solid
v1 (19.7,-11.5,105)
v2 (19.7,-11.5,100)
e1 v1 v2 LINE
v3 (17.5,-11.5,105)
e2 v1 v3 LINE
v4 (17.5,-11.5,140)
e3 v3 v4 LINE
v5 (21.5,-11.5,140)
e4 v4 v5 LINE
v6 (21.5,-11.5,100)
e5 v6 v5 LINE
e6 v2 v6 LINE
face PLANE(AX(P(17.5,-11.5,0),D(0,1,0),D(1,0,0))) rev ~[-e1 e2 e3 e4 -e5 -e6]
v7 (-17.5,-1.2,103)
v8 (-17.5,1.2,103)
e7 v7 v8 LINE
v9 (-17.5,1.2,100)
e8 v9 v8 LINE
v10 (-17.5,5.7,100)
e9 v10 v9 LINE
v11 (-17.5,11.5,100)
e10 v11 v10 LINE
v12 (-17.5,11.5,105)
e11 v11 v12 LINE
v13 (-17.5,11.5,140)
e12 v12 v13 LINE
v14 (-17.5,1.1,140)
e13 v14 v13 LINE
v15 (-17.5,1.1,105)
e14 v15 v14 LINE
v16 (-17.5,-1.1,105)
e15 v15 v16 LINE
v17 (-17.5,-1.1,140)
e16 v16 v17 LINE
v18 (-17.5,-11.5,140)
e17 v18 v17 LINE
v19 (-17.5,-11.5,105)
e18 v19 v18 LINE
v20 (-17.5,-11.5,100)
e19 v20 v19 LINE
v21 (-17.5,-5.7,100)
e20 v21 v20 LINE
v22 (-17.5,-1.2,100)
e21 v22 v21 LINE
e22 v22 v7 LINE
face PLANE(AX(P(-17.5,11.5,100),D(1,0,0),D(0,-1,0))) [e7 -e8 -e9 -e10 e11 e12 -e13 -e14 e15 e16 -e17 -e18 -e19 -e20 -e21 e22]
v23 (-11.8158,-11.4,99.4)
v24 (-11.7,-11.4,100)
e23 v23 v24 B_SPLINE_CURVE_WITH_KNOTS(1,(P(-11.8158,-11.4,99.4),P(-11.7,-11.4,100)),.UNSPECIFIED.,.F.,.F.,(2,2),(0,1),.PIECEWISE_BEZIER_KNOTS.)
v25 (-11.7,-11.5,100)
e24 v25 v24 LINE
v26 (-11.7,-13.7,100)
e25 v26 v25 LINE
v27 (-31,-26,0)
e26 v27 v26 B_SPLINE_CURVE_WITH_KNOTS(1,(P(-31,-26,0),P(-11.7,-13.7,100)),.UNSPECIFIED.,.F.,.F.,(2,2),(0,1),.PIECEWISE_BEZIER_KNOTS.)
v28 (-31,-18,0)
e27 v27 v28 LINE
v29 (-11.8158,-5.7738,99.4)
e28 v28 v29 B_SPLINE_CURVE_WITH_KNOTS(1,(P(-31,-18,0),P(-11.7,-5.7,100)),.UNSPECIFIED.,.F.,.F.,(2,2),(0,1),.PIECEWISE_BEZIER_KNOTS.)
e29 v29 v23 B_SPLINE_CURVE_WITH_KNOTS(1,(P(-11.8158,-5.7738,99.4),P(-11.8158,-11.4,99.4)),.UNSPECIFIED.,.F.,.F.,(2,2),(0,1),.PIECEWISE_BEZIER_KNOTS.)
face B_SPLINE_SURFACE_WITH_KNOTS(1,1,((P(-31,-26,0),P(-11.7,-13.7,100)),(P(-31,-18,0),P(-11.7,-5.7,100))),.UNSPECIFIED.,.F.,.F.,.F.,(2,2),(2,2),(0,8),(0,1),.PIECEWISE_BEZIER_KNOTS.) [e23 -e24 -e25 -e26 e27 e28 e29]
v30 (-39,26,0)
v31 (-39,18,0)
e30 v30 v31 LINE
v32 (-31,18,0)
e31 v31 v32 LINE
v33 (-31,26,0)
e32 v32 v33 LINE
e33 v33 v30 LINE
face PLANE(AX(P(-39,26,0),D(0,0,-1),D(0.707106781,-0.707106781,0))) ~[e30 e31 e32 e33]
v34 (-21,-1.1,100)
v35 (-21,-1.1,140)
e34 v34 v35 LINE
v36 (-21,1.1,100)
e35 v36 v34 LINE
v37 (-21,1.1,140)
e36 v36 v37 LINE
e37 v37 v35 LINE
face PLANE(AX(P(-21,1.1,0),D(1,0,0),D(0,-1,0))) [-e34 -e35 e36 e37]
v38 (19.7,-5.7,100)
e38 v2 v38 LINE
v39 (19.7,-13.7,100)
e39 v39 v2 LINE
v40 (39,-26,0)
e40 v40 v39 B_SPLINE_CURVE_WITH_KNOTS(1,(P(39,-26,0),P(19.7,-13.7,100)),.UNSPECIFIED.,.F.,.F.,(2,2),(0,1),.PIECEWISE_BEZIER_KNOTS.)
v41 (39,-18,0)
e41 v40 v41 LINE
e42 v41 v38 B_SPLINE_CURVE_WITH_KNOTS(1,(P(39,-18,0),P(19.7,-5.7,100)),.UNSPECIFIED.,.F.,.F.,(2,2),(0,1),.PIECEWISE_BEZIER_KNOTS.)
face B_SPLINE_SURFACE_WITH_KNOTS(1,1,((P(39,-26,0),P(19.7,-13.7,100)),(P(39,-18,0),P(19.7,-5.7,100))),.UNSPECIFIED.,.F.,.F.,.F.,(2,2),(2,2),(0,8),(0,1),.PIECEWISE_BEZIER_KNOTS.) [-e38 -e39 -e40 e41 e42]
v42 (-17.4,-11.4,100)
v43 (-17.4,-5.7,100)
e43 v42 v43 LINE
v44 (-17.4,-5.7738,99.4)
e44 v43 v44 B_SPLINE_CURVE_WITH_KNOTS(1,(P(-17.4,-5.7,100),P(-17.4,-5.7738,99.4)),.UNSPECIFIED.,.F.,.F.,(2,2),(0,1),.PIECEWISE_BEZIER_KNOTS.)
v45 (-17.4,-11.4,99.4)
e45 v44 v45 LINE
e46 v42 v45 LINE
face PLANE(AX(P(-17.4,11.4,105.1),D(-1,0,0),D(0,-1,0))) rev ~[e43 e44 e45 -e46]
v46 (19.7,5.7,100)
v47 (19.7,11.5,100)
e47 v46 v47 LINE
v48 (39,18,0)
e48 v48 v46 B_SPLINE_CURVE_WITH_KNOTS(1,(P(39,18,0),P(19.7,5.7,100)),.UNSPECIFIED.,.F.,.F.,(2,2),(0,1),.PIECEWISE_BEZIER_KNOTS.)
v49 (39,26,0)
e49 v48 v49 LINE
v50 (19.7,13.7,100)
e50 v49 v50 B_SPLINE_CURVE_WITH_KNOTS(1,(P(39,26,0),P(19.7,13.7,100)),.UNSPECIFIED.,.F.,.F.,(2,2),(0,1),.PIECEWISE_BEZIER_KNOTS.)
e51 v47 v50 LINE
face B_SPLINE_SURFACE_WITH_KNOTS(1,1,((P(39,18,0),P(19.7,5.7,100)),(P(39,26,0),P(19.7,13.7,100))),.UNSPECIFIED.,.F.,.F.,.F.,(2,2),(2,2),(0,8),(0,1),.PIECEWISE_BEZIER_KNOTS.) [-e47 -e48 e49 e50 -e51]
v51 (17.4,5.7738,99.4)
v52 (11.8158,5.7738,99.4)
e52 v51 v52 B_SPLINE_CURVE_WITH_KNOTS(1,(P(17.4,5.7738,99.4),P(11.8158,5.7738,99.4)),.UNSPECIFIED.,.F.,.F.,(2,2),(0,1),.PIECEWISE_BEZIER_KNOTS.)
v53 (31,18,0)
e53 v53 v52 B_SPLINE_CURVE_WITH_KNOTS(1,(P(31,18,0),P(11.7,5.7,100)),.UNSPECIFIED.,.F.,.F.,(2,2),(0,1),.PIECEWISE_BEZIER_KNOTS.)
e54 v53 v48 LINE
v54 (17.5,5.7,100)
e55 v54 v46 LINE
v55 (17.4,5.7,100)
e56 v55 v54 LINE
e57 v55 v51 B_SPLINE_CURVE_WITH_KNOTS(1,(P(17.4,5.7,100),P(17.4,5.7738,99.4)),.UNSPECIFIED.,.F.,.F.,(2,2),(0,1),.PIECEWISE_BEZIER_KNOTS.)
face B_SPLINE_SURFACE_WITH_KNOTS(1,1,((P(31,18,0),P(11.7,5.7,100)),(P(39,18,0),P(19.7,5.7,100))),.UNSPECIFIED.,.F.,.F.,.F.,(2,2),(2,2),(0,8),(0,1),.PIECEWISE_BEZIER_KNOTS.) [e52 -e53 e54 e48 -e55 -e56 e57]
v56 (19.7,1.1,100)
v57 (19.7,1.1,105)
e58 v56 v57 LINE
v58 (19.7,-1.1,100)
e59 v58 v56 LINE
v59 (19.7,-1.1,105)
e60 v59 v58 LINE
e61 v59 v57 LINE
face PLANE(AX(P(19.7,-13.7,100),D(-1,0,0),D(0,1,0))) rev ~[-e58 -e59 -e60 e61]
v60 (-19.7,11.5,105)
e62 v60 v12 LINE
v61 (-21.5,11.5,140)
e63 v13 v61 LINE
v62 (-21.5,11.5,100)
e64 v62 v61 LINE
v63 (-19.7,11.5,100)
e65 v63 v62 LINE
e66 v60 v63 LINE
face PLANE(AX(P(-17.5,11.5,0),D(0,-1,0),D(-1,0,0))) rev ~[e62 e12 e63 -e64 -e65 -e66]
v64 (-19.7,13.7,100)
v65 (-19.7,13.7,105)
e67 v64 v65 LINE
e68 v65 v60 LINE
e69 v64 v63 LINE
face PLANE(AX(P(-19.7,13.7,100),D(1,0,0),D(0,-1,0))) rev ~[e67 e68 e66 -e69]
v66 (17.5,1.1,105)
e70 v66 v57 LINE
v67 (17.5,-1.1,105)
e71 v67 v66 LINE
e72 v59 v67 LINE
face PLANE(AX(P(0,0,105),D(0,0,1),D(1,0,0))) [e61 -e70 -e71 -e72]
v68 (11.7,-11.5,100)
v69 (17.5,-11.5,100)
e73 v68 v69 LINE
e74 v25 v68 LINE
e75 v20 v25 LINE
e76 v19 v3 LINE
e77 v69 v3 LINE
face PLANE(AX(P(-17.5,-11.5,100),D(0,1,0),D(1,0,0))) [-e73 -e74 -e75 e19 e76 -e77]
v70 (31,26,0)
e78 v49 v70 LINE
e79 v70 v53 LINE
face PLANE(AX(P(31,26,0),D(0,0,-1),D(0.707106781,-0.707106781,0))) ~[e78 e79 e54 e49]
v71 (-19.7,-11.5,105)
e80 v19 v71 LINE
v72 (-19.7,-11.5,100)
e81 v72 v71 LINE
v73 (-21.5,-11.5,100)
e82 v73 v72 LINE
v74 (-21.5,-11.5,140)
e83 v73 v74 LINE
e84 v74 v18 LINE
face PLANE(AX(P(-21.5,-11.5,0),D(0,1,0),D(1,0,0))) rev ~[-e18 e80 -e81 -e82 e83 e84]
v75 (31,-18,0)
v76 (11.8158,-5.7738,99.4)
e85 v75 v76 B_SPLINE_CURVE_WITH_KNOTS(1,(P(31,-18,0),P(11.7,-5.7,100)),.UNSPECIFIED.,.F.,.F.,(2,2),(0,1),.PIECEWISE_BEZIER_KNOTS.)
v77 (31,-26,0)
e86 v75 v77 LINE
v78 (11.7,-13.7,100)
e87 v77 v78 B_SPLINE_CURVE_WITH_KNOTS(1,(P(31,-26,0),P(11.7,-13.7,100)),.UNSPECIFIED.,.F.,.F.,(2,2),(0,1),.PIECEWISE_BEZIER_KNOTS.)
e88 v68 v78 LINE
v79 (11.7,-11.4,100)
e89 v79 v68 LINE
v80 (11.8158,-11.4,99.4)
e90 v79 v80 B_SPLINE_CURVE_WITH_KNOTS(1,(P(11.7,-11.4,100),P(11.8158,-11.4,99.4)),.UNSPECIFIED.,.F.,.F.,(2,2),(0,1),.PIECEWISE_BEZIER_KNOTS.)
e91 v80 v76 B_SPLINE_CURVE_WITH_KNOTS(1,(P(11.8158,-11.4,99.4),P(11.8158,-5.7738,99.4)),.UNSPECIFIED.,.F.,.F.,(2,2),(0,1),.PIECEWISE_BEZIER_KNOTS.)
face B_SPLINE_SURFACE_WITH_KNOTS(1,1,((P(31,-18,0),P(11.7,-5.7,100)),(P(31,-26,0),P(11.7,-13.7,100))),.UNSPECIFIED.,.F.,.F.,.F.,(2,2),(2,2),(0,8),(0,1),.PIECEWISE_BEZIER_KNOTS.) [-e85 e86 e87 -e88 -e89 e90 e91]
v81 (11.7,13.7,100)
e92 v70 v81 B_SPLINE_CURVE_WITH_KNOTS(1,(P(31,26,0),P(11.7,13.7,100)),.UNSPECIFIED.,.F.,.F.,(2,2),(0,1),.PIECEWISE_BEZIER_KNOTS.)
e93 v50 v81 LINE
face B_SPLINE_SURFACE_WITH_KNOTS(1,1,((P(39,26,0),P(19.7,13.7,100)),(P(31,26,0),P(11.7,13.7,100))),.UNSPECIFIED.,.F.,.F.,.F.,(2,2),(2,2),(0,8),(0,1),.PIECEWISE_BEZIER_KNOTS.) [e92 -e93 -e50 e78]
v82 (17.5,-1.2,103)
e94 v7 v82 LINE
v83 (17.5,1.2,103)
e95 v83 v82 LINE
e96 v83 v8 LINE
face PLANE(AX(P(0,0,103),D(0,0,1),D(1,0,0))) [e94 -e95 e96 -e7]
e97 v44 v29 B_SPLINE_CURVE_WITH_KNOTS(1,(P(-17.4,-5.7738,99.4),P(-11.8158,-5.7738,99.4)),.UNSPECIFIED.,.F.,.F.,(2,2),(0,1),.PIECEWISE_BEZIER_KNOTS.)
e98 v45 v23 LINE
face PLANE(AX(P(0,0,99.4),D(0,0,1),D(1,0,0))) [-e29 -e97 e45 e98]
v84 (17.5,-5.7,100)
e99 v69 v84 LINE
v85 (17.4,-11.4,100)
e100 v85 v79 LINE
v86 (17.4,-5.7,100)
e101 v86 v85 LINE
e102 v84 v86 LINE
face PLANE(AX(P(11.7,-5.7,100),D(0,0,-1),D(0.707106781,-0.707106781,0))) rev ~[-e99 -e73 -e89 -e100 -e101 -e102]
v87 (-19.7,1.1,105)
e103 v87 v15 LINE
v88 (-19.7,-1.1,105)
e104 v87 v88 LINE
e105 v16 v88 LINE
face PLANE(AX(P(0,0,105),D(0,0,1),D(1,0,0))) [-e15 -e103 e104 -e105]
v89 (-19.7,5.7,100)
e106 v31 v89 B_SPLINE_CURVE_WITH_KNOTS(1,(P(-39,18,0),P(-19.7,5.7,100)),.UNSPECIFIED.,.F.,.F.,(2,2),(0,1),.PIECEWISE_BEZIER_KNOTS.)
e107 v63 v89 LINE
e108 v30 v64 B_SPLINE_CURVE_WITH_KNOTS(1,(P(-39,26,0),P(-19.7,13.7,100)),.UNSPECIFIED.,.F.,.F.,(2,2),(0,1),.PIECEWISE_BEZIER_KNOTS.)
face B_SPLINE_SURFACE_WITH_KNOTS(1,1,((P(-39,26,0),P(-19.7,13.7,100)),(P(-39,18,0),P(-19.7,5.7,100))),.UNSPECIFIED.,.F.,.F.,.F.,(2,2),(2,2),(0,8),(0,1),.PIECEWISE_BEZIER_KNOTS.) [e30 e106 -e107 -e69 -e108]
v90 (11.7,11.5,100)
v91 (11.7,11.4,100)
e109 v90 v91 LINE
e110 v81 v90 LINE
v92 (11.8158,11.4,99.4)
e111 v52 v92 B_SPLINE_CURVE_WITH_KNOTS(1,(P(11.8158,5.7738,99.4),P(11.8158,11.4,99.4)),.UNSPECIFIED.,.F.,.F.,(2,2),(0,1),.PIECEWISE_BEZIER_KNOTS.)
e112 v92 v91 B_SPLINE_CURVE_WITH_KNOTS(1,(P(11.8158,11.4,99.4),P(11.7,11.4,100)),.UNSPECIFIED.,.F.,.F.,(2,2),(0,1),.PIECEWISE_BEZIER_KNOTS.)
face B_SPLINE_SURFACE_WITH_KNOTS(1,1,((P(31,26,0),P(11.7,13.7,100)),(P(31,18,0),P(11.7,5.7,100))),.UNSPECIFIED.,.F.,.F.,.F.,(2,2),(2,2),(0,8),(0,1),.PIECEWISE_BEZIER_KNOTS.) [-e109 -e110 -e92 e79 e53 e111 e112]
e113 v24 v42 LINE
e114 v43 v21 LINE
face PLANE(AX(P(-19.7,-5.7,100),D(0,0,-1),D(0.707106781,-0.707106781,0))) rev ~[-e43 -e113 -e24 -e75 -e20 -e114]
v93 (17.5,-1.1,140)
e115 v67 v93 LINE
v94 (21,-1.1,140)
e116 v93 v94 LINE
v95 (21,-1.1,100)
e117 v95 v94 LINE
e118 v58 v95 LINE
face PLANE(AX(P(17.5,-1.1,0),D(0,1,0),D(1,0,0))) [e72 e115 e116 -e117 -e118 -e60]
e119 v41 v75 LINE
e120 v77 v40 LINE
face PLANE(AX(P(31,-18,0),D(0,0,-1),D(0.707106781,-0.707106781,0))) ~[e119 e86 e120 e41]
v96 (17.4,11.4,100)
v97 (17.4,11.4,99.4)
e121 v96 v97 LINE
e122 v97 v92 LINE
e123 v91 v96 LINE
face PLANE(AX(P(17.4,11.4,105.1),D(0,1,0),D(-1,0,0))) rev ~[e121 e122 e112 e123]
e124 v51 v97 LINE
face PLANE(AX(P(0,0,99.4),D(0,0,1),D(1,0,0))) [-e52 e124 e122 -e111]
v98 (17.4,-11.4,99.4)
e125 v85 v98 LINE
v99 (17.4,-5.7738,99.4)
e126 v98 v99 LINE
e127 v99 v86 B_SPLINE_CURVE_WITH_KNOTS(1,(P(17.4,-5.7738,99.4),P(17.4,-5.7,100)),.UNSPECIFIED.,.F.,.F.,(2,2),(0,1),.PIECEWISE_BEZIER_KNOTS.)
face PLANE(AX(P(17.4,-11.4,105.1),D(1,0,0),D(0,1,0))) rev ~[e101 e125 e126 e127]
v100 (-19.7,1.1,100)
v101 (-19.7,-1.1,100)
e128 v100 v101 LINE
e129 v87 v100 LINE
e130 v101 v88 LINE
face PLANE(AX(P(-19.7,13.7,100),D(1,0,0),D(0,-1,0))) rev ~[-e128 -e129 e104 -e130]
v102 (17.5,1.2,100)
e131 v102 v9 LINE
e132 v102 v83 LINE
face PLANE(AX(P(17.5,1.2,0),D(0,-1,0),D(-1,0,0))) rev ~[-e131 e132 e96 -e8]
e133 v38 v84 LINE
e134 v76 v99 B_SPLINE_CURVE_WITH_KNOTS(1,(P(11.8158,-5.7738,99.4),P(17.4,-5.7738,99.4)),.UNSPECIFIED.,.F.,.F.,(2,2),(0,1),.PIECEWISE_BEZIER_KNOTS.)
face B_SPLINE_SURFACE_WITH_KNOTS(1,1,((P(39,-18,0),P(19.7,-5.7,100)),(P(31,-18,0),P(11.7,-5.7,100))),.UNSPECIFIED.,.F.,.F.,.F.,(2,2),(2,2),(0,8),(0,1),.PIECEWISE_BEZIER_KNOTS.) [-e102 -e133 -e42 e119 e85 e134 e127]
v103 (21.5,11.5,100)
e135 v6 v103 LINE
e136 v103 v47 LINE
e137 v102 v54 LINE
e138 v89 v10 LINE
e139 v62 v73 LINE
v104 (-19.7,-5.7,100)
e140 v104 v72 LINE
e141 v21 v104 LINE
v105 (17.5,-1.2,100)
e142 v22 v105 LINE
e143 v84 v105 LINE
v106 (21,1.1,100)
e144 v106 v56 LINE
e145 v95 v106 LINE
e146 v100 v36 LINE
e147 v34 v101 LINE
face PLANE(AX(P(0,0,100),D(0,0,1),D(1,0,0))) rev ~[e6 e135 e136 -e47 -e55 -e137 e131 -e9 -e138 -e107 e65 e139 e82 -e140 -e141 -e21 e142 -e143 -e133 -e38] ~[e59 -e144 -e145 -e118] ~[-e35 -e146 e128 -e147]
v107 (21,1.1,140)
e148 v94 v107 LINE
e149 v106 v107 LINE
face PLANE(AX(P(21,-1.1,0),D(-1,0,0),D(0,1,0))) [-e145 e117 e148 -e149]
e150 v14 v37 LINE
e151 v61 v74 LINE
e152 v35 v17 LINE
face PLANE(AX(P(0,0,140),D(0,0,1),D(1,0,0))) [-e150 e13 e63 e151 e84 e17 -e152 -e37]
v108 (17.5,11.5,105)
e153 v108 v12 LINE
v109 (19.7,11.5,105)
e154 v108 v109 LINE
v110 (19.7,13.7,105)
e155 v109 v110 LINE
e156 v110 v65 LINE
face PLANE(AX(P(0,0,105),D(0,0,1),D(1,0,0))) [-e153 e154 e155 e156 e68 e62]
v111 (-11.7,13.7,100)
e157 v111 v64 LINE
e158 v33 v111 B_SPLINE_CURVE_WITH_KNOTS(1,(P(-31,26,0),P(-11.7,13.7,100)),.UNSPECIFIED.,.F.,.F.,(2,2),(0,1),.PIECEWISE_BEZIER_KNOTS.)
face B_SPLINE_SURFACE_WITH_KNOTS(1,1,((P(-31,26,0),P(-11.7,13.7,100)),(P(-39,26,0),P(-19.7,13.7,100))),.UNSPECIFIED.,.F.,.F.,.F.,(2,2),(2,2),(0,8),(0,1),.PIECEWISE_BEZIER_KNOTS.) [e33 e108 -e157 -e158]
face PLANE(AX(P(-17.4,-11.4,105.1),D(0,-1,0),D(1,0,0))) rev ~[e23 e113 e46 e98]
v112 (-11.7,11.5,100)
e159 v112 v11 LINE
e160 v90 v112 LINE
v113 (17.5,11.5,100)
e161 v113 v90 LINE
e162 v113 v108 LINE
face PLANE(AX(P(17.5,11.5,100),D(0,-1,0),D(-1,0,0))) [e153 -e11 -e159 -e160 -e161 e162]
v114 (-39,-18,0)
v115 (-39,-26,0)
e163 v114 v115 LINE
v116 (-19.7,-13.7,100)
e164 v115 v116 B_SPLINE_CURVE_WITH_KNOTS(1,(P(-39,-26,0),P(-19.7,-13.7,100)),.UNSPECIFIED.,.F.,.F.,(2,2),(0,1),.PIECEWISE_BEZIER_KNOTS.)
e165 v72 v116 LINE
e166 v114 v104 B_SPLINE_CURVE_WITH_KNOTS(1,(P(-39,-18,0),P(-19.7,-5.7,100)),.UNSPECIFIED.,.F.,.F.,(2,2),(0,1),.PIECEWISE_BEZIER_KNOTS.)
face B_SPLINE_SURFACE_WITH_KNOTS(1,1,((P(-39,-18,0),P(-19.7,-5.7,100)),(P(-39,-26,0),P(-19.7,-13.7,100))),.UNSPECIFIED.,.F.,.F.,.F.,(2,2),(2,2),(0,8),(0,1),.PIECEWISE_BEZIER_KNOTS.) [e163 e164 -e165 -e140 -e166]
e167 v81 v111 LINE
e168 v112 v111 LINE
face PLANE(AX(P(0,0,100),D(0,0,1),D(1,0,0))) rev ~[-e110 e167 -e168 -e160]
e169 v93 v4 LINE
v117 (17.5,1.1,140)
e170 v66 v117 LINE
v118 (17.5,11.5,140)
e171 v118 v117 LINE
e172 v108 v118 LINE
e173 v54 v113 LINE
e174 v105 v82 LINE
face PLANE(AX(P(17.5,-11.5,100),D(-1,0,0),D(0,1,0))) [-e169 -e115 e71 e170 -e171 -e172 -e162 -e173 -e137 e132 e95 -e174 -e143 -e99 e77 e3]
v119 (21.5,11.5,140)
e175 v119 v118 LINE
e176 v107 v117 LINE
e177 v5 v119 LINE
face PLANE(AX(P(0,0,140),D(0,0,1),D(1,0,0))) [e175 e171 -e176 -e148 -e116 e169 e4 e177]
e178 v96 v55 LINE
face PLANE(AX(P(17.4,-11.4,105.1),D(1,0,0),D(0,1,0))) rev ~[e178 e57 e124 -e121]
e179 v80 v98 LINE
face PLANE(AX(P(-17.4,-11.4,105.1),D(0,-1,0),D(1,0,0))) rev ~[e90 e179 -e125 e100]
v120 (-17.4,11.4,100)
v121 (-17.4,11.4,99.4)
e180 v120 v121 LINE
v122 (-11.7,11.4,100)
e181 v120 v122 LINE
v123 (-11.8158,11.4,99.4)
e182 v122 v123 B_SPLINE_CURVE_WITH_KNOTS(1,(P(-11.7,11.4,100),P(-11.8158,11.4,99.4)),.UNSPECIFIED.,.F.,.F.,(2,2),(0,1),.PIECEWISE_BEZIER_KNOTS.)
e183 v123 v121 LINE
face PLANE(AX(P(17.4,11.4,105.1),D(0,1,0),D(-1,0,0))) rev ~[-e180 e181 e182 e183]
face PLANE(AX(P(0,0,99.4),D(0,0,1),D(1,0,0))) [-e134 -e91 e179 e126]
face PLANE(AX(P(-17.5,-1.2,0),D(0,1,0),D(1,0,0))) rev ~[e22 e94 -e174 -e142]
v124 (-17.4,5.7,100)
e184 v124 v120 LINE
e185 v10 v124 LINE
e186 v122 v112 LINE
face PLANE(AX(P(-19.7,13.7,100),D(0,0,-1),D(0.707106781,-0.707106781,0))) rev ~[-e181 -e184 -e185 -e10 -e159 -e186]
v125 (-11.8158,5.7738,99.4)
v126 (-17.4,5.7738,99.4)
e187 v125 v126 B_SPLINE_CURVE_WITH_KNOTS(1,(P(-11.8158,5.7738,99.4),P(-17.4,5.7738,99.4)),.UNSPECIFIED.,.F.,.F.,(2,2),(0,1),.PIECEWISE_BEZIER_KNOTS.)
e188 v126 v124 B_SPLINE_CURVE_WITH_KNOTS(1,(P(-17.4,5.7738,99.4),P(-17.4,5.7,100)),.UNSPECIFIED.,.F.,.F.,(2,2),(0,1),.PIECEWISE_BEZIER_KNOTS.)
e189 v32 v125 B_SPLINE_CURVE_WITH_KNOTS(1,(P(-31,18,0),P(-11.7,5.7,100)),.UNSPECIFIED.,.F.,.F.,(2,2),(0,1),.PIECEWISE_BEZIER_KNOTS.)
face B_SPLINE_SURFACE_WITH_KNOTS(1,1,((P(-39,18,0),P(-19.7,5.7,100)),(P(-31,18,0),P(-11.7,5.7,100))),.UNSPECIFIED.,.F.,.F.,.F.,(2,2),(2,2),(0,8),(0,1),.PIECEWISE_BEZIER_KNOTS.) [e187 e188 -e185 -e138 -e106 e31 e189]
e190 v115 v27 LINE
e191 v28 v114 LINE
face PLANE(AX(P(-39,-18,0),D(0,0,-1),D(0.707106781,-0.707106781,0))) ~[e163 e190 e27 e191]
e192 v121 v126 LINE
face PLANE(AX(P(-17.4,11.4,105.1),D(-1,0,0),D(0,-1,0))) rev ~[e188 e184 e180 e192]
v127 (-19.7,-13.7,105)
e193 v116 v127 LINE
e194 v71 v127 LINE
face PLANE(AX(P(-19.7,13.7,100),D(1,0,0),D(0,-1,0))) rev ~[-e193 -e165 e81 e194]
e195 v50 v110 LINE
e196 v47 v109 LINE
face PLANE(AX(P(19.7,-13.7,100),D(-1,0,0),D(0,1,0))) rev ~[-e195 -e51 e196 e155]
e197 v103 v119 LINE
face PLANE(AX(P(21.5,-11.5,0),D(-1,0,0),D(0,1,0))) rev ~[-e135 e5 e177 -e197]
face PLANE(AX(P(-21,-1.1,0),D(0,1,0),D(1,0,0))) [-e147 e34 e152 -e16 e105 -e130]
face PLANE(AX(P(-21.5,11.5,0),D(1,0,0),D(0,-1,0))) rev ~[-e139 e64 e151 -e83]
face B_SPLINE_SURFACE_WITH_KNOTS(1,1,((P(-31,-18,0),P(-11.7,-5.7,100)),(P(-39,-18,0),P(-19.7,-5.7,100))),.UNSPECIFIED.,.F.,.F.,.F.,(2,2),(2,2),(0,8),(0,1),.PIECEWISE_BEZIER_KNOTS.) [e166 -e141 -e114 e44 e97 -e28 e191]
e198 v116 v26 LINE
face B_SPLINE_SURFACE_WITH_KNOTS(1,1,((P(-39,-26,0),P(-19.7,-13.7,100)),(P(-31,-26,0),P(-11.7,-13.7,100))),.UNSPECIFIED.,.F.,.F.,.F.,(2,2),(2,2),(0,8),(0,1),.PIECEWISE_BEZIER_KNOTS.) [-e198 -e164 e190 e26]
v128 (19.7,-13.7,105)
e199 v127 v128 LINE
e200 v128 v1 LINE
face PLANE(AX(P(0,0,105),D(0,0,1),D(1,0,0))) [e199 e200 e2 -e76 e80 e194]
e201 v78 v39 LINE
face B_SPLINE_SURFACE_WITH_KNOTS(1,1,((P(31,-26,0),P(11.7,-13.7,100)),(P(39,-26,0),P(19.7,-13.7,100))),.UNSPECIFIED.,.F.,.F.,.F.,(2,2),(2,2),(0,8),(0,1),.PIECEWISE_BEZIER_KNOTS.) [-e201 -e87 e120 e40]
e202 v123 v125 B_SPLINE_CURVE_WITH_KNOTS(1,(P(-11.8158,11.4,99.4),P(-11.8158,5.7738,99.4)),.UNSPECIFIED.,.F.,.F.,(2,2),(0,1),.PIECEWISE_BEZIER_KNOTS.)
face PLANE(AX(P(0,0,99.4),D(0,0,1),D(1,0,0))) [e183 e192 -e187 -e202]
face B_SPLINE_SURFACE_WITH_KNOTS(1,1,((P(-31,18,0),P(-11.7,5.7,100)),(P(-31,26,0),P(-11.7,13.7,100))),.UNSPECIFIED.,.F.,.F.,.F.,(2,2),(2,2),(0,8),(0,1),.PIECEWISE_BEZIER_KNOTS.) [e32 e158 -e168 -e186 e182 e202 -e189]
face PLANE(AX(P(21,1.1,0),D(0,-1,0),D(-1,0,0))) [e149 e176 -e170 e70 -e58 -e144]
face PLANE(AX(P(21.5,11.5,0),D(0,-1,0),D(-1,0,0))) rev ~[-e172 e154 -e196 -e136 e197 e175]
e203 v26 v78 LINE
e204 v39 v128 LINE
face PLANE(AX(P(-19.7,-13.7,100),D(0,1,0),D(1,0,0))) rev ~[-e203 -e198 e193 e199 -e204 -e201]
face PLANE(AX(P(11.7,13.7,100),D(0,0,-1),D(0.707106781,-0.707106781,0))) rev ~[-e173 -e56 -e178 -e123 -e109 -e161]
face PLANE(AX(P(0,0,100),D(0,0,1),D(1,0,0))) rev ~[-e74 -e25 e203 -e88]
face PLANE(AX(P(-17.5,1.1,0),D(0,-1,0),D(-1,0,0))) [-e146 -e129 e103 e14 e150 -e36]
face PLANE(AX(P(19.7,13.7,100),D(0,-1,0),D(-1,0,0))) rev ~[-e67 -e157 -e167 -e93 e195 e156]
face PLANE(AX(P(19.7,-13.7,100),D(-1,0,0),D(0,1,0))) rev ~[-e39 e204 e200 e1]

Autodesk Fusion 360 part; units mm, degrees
ref_plane "WorkPlane1" through (0, 0, 100) normal (0, 0, 1) x (1, 0, 0)
ref_plane "WorkPlane2" through (0, 0, 100) normal (0, 0, 1) x (1, 0, 0)
ref_plane "WorkPlane3" through (0, 0, 100) normal (0, 0, 1) x (1, 0, 0)
ref_plane "WorkPlane4" through (0, 0, 100) normal (0, 0, 1) x (1, 0, 0)
ref_plane "WorkPlane5" through (0, 0, 100) normal (0, 0, 1) x (1, 0, 0)
ref_plane "WorkPlane6" through (0, 0, 100) normal (0, 0, 1) x (1, 0, 0)
ref_plane "WorkPlane7" through (0, 0, 100) normal (0, 0, 1) x (1, 0, 0)
ref_plane "WorkPlane8" through (0, 0, 100) normal (0, 0, 1) x (1, 0, 0)
ref_plane "WorkPlane9" through (0, 0, 100) normal (0, 0, 1) x (1, 0, 0)
ref_plane "WorkPlane10" through (0, 0, 100) normal (0, 0, 1) x (1, 0, 0)
ref_plane "WorkPlane11" through (0, 0, 100) normal (0, 0, 1) x (1, 0, 0)
ref_plane "WorkPlane12" through (0, 0, 100) normal (0, 0, 1) x (1, 0, 0)
ref_plane "WorkPlane13" through (0, 0, 100) normal (0, 0, 1) x (1, 0, 0)
ref_plane "WorkPlane14" through (0, 0, 100) normal (0, 0, 1) x (1, 0, 0)
ref_plane "WorkPlane15" through (0, 0, 100) normal (0, 0, 1) x (1, 0, 0)
ref_plane "WorkPlane16" through (0, 0, 100) normal (0, 0, 1) x (1, 0, 0)
ref_plane "WorkPlane18" through (0, 0, 100) normal (0, 0, 1) x (1, 0, 0)
ref_plane "WorkPlane20" through (0, 0, 100) normal (0, 0, 1) x (1, 0, 0)
ref_plane "WorkPlane21" through (0, 0, 105) normal (0, 0, 1) x (1, 0, 0)
ref_plane "WorkPlane22" through (0, 0, 100) normal (0, 0, 1) x (1, 0, 0)
ref_plane "WorkPlane23" through (0, 0, 105) normal (0, 0, 1) x (1, 0, 0)
ref_plane "WorkPlane25" through (0, 0, 105) normal (0, 0, 1) x (1, 0, 0)
ref_plane "WorkPlane26" through (0, 0, 100) normal (0, 0, 1) x (1, 0, 0)
ref_plane "WorkPlane27" through (0, 0, 100) normal (0, 0, 1) x (1, 0, 0)
ref_plane "WorkPlane28" through (0, 0, 105) normal (0, 0, 1) x (1, 0, 0)
ref_plane "WorkPlane29" through (0, 0, 100) normal (0, 0, 1) x (1, 0, 0)
ref_plane "WorkPlane31" through (0, 0, 105) normal (0, 0, 1) x (1, 0, 0)
ref_plane "WorkPlane32" through (0, 0, 100) normal (0, 0, 1) x (1, 0, 0)
ref_plane "WorkPlane33" through (0, 0, 105) normal (0, 0, 1) x (1, 0, 0)
ref_plane "WorkPlane34" through (0, 0, 0) normal (0, 0, 1) x (1, 0, 0)
ref_plane "WorkPlane35" through (0, 0, 0) normal (0, 0, 1) x (1, 0, 0)
ref_plane "WorkPlane36" through (0, 0, 0) normal (0, 0, 1) x (1, 0, 0)
ref_plane "WorkPlane37" through (0, 0, 0) normal (0, 0, 1) x (1, 0, 0)
ref_plane "WorkPlane38" through (0, 0, 100) normal (0, 0, 1) x (1, 0, 0)
ref_plane "WorkPlane39" through (0, 0, 100) normal (0, 0, 1) x (1, 0, 0)
ref_plane "WorkPlane40" through (0, 0, 105) normal (0, 0, 1) x (1, 0, 0)
ref_plane "WorkPlane41" through (0, 0, 0) normal (0, 0, 1) x (1, 0, 0)
ref_plane "WorkPlane42" through (0, 0, 0) normal (0, 0, 1) x (1, 0, 0)
ref_plane "WorkPlane43" through (0, 0, 0) normal (0, 0, 1) x (1, 0, 0)
ref_plane "WorkPlane44" through (0, 0, 0) normal (0, 0, 1) x (1, 0, 0)
ref_plane "WorkPlane45" through (0, 0, 100) normal (0, 0, 1) x (1, 0, 0)
ref_plane "WorkPlane46" through (0, 0, 100) normal (0, 0, 1) x (1, 0, 0)
ref_plane "WorkPlane47" through (0, 0, 100) normal (0, 0, 1) x (1, 0, 0)
ref_plane "WorkPlane48" through (0, 0, 100) normal (0, 0, 1) x (1, 0, 0)
ref_plane "WorkPlane49" through (0, 0, 0) normal (0, 0, 1) x (1, 0, 0)
ref_plane "WorkPlane50" through (0, 0, 100) normal (0, 0, 1) x (1, 0, 0)
ref_plane "WorkPlane51" through (0, 0, 0) normal (0, 0, 1) x (1, 0, 0)
ref_plane "WorkPlane52" through (0, 0, 100) normal (0, 0, 1) x (1, 0, 0)
ref_plane "WorkPlane53" through (0, 0, 0) normal (0, 0, 1) x (1, 0, 0)
ref_plane "WorkPlane54" through (0, 0, 100) normal (0, 0, 1) x (1, 0, 0)
ref_plane "WorkPlane55" through (0, 0, 0) normal (0, 0, 1) x (1, 0, 0)
ref_plane "WorkPlane56" through (0, 0, 100) normal (0, 0, 1) x (1, 0, 0)
ref_plane "WorkPlane57" through (0, 0, 100) normal (0, 0, 1) x (1, 0, 0)
ref_plane "WorkPlane58" through (0, 0, 0) normal (0, 0, 1) x (1, 0, 0)
ref_plane "WorkPlane59" through (0, 0, 100) normal (0, 0, 1) x (1, 0, 0)
sketch "Sketch240" plane through (0, 0, 0) normal (0, 0, 1) x (1, 0, 0)
  line L0 (31, 18) -> (39, 18)
  line L1 (39, 18) -> (39, 26)
  line L2 (39, 26) -> (31, 26)
  line L3 (31, 26) -> (31, 18)
sketch "Sketch241" plane through (0, 0, 100) normal (0, 0, 1) x (1, 0, 0)
  line L0 (11.7, 5.7) -> (19.7, 5.7)
  line L1 (19.7, 5.7) -> (19.7, 13.7)
  line L2 (19.7, 13.7) -> (11.7, 13.7)
  line L3 (11.7, 13.7) -> (11.7, 5.7)
loft "Loft97" add profiles "Sketch240", "Sketch241" section 1 section 2 makes body 1
ref_plane "WorkPlane60" through (0, 0, 0) normal (0, 0, 1) x (1, 0, 0)
ref_plane "WorkPlane61" through (0, 0, 100) normal (0, 0, 1) x (1, 0, 0)
sketch "Sketch242" plane through (0, 0, 0) normal (0, 0, 1) x (1, 0, 0)
  line L0 (-39, 18) -> (-31, 18)
  line L1 (-31, 18) -> (-31, 26)
  line L2 (-31, 26) -> (-39, 26)
  line L3 (-39, 26) -> (-39, 18)
sketch "Sketch243" plane through (0, 0, 100) normal (0, 0, 1) x (1, 0, 0)
  line L0 (-19.7, 5.7) -> (-11.7, 5.7)
  line L1 (-11.7, 5.7) -> (-11.7, 13.7)
  line L2 (-11.7, 13.7) -> (-19.7, 13.7)
  line L3 (-19.7, 13.7) -> (-19.7, 5.7)
loft "Loft98" add profiles "Sketch242", "Sketch243" section 1 section 2 separate body makes body 2
ref_plane "WorkPlane62" through (0, 0, 0) normal (0, 0, 1) x (1, 0, 0)
ref_plane "WorkPlane63" through (0, 0, 100) normal (0, 0, 1) x (1, 0, 0)
sketch "Sketch244" plane through (0, 0, 0) normal (0, 0, 1) x (1, 0, 0)
  line L0 (-39, -26) -> (-31, -26)
  line L1 (-31, -26) -> (-31, -18)
  line L2 (-31, -18) -> (-39, -18)
  line L3 (-39, -18) -> (-39, -26)
sketch "Sketch245" plane through (0, 0, 100) normal (0, 0, 1) x (1, 0, 0)
  line L0 (-19.7, -13.7) -> (-11.7, -13.7)
  line L1 (-11.7, -13.7) -> (-11.7, -5.7)
  line L2 (-11.7, -5.7) -> (-19.7, -5.7)
  line L3 (-19.7, -5.7) -> (-19.7, -13.7)
loft "Loft99" add profiles "Sketch244", "Sketch245" section 1 section 2 separate body makes body 3
ref_plane "WorkPlane64" through (0, 0, 0) normal (0, 0, 1) x (1, 0, 0)
ref_plane "WorkPlane65" through (0, 0, 100) normal (0, 0, 1) x (1, 0, 0)
sketch "Sketch246" plane through (0, 0, 0) normal (0, 0, 1) x (1, 0, 0)
  line L0 (31, -26) -> (39, -26)
  line L1 (39, -26) -> (39, -18)
  line L2 (39, -18) -> (31, -18)
  line L3 (31, -18) -> (31, -26)
sketch "Sketch247" plane through (0, 0, 100) normal (0, 0, 1) x (1, 0, 0)
  line L0 (11.7, -13.7) -> (19.7, -13.7)
  line L1 (19.7, -13.7) -> (19.7, -5.7)
  line L2 (19.7, -5.7) -> (11.7, -5.7)
  line L3 (11.7, -5.7) -> (11.7, -13.7)
loft "Loft100" add profiles "Sketch246", "Sketch247" section 1 section 2 separate body makes body 4
ref_plane "WorkPlane66" through (0, 0, 100) normal (0, 0, 1) x (1, 0, 0)
sketch "Sketch248" plane through (0, 0, 100) normal (0, 0, 1) x (1, 0, 0)
  line L0 (-19.7, -13.7) -> (19.7, -13.7)
  line L1 (19.7, -13.7) -> (19.7, 13.7)
  line L2 (19.7, 13.7) -> (-19.7, 13.7)
  line L3 (-19.7, 13.7) -> (-19.7, -13.7)
  line L4 (-17.5, -11.5) -> (17.5, -11.5)
  line L5 (17.5, -11.5) -> (17.5, 11.5)
  line L6 (17.5, 11.5) -> (-17.5, 11.5)
  line L7 (-17.5, 11.5) -> (-17.5, -11.5)
extrude "Extrude50" add sketch "Sketch248" along normal blind 5 bodies 1 2 3 4
ref_plane "WorkPlane67" through (0, 0, 105.1) normal (0, 0, 1) x (1, 0, 0)
sketch "sk_CutInner" plane through (0, 0, 105.1) normal (0, 0, 1) x (1, 0, 0)
  line L0 (-17.4, -11.4) -> (17.4, -11.4)
  line L1 (17.4, -11.4) -> (17.4, 11.4)
  line L2 (17.4, 11.4) -> (-17.4, 11.4)
  line L3 (-17.4, 11.4) -> (-17.4, -11.4)
extrude "Extrude51" cut sketch "sk_CutInner" against normal blind 5.7 bodies 1
sketch "sk_RailRight" plane through (0, 0, 0) normal (0, 0, 1) x (1, 0, 0)
  line L0 (17.5, -11.5) -> (21.5, -11.5)
  line L1 (21.5, -11.5) -> (21.5, 11.5)
  line L2 (21.5, 11.5) -> (17.5, 11.5)
  line L3 (17.5, 11.5) -> (17.5, -11.5)
extrude "Extrude52" add sketch "sk_RailRight" along normal blind 140 separate body makes body 5
sketch "sk_GrooveRight" plane through (0, 0, 0) normal (0, 0, 1) x (1, 0, 0)
  line L0 (17.5, -1.1) -> (21, -1.1)
  line L1 (21, -1.1) -> (21, 1.1)
  line L2 (21, 1.1) -> (17.5, 1.1)
  line L3 (17.5, 1.1) -> (17.5, -1.1)
extrude "Extrude53" cut sketch "sk_GrooveRight" along normal blind 140 bodies 5
sketch "sk_TrimRailRight" plane through (0, 0, 0) normal (0, 0, 1) x (1, 0, 0)
  line L0 (17.5, -11.5) -> (21.5, -11.5)
  line L1 (21.5, -11.5) -> (21.5, 11.5)
  line L2 (21.5, 11.5) -> (17.5, 11.5)
  line L3 (17.5, 11.5) -> (17.5, -11.5)
extrude "Extrude54" cut sketch "sk_TrimRailRight" along normal blind 100 bodies 5
sketch "sk_RailLeft" plane through (0, 0, 0) normal (0, 0, 1) x (1, 0, 0)
  line L0 (-21.5, -11.5) -> (-17.5, -11.5)
  line L1 (-17.5, -11.5) -> (-17.5, 11.5)
  line L2 (-17.5, 11.5) -> (-21.5, 11.5)
  line L3 (-21.5, 11.5) -> (-21.5, -11.5)
extrude "Extrude55" add sketch "sk_RailLeft" along normal blind 140 separate body makes body 6
sketch "sk_GrooveLeft" plane through (0, 0, 0) normal (0, 0, 1) x (1, 0, 0)
  line L0 (-21, -1.1) -> (-17.5, -1.1)
  line L1 (-17.5, -1.1) -> (-17.5, 1.1)
  line L2 (-17.5, 1.1) -> (-21, 1.1)
  line L3 (-21, 1.1) -> (-21, -1.1)
extrude "Extrude56" cut sketch "sk_GrooveLeft" along normal blind 140 bodies 6
sketch "sk_TrimRailLeft" plane through (0, 0, 0) normal (0, 0, 1) x (1, 0, 0)
  line L0 (-21.5, -11.5) -> (-17.5, -11.5)
  line L1 (-17.5, -11.5) -> (-17.5, 11.5)
  line L2 (-17.5, 11.5) -> (-21.5, 11.5)
  line L3 (-21.5, 11.5) -> (-21.5, -11.5)
extrude "Extrude57" cut sketch "sk_TrimRailLeft" along normal blind 100 bodies 6
sketch "sk_BottomStop" plane through (0, 0, 0) normal (0, 0, 1) x (1, 0, 0)
  line L0 (-17.5, -1.2) -> (17.5, -1.2)
  line L1 (17.5, -1.2) -> (17.5, 1.2)
  line L2 (17.5, 1.2) -> (-17.5, 1.2)
  line L3 (-17.5, 1.2) -> (-17.5, -1.2)
extrude "Extrude58" add sketch "sk_BottomStop" along normal blind 103 separate body makes body 7
sketch "sk_TrimStop" plane through (0, 0, 0) normal (0, 0, 1) x (1, 0, 0)
  line L0 (-17.5, -1.2) -> (17.5, -1.2)
  line L1 (17.5, -1.2) -> (17.5, 1.2)
  line L2 (17.5, 1.2) -> (-17.5, 1.2)
  line L3 (-17.5, 1.2) -> (-17.5, -1.2)
extrude "Extrude59" cut sketch "sk_TrimStop" along normal blind 100 bodies 7
combine "Combine1" operation add target body 1 tool bodies 5 6 7
